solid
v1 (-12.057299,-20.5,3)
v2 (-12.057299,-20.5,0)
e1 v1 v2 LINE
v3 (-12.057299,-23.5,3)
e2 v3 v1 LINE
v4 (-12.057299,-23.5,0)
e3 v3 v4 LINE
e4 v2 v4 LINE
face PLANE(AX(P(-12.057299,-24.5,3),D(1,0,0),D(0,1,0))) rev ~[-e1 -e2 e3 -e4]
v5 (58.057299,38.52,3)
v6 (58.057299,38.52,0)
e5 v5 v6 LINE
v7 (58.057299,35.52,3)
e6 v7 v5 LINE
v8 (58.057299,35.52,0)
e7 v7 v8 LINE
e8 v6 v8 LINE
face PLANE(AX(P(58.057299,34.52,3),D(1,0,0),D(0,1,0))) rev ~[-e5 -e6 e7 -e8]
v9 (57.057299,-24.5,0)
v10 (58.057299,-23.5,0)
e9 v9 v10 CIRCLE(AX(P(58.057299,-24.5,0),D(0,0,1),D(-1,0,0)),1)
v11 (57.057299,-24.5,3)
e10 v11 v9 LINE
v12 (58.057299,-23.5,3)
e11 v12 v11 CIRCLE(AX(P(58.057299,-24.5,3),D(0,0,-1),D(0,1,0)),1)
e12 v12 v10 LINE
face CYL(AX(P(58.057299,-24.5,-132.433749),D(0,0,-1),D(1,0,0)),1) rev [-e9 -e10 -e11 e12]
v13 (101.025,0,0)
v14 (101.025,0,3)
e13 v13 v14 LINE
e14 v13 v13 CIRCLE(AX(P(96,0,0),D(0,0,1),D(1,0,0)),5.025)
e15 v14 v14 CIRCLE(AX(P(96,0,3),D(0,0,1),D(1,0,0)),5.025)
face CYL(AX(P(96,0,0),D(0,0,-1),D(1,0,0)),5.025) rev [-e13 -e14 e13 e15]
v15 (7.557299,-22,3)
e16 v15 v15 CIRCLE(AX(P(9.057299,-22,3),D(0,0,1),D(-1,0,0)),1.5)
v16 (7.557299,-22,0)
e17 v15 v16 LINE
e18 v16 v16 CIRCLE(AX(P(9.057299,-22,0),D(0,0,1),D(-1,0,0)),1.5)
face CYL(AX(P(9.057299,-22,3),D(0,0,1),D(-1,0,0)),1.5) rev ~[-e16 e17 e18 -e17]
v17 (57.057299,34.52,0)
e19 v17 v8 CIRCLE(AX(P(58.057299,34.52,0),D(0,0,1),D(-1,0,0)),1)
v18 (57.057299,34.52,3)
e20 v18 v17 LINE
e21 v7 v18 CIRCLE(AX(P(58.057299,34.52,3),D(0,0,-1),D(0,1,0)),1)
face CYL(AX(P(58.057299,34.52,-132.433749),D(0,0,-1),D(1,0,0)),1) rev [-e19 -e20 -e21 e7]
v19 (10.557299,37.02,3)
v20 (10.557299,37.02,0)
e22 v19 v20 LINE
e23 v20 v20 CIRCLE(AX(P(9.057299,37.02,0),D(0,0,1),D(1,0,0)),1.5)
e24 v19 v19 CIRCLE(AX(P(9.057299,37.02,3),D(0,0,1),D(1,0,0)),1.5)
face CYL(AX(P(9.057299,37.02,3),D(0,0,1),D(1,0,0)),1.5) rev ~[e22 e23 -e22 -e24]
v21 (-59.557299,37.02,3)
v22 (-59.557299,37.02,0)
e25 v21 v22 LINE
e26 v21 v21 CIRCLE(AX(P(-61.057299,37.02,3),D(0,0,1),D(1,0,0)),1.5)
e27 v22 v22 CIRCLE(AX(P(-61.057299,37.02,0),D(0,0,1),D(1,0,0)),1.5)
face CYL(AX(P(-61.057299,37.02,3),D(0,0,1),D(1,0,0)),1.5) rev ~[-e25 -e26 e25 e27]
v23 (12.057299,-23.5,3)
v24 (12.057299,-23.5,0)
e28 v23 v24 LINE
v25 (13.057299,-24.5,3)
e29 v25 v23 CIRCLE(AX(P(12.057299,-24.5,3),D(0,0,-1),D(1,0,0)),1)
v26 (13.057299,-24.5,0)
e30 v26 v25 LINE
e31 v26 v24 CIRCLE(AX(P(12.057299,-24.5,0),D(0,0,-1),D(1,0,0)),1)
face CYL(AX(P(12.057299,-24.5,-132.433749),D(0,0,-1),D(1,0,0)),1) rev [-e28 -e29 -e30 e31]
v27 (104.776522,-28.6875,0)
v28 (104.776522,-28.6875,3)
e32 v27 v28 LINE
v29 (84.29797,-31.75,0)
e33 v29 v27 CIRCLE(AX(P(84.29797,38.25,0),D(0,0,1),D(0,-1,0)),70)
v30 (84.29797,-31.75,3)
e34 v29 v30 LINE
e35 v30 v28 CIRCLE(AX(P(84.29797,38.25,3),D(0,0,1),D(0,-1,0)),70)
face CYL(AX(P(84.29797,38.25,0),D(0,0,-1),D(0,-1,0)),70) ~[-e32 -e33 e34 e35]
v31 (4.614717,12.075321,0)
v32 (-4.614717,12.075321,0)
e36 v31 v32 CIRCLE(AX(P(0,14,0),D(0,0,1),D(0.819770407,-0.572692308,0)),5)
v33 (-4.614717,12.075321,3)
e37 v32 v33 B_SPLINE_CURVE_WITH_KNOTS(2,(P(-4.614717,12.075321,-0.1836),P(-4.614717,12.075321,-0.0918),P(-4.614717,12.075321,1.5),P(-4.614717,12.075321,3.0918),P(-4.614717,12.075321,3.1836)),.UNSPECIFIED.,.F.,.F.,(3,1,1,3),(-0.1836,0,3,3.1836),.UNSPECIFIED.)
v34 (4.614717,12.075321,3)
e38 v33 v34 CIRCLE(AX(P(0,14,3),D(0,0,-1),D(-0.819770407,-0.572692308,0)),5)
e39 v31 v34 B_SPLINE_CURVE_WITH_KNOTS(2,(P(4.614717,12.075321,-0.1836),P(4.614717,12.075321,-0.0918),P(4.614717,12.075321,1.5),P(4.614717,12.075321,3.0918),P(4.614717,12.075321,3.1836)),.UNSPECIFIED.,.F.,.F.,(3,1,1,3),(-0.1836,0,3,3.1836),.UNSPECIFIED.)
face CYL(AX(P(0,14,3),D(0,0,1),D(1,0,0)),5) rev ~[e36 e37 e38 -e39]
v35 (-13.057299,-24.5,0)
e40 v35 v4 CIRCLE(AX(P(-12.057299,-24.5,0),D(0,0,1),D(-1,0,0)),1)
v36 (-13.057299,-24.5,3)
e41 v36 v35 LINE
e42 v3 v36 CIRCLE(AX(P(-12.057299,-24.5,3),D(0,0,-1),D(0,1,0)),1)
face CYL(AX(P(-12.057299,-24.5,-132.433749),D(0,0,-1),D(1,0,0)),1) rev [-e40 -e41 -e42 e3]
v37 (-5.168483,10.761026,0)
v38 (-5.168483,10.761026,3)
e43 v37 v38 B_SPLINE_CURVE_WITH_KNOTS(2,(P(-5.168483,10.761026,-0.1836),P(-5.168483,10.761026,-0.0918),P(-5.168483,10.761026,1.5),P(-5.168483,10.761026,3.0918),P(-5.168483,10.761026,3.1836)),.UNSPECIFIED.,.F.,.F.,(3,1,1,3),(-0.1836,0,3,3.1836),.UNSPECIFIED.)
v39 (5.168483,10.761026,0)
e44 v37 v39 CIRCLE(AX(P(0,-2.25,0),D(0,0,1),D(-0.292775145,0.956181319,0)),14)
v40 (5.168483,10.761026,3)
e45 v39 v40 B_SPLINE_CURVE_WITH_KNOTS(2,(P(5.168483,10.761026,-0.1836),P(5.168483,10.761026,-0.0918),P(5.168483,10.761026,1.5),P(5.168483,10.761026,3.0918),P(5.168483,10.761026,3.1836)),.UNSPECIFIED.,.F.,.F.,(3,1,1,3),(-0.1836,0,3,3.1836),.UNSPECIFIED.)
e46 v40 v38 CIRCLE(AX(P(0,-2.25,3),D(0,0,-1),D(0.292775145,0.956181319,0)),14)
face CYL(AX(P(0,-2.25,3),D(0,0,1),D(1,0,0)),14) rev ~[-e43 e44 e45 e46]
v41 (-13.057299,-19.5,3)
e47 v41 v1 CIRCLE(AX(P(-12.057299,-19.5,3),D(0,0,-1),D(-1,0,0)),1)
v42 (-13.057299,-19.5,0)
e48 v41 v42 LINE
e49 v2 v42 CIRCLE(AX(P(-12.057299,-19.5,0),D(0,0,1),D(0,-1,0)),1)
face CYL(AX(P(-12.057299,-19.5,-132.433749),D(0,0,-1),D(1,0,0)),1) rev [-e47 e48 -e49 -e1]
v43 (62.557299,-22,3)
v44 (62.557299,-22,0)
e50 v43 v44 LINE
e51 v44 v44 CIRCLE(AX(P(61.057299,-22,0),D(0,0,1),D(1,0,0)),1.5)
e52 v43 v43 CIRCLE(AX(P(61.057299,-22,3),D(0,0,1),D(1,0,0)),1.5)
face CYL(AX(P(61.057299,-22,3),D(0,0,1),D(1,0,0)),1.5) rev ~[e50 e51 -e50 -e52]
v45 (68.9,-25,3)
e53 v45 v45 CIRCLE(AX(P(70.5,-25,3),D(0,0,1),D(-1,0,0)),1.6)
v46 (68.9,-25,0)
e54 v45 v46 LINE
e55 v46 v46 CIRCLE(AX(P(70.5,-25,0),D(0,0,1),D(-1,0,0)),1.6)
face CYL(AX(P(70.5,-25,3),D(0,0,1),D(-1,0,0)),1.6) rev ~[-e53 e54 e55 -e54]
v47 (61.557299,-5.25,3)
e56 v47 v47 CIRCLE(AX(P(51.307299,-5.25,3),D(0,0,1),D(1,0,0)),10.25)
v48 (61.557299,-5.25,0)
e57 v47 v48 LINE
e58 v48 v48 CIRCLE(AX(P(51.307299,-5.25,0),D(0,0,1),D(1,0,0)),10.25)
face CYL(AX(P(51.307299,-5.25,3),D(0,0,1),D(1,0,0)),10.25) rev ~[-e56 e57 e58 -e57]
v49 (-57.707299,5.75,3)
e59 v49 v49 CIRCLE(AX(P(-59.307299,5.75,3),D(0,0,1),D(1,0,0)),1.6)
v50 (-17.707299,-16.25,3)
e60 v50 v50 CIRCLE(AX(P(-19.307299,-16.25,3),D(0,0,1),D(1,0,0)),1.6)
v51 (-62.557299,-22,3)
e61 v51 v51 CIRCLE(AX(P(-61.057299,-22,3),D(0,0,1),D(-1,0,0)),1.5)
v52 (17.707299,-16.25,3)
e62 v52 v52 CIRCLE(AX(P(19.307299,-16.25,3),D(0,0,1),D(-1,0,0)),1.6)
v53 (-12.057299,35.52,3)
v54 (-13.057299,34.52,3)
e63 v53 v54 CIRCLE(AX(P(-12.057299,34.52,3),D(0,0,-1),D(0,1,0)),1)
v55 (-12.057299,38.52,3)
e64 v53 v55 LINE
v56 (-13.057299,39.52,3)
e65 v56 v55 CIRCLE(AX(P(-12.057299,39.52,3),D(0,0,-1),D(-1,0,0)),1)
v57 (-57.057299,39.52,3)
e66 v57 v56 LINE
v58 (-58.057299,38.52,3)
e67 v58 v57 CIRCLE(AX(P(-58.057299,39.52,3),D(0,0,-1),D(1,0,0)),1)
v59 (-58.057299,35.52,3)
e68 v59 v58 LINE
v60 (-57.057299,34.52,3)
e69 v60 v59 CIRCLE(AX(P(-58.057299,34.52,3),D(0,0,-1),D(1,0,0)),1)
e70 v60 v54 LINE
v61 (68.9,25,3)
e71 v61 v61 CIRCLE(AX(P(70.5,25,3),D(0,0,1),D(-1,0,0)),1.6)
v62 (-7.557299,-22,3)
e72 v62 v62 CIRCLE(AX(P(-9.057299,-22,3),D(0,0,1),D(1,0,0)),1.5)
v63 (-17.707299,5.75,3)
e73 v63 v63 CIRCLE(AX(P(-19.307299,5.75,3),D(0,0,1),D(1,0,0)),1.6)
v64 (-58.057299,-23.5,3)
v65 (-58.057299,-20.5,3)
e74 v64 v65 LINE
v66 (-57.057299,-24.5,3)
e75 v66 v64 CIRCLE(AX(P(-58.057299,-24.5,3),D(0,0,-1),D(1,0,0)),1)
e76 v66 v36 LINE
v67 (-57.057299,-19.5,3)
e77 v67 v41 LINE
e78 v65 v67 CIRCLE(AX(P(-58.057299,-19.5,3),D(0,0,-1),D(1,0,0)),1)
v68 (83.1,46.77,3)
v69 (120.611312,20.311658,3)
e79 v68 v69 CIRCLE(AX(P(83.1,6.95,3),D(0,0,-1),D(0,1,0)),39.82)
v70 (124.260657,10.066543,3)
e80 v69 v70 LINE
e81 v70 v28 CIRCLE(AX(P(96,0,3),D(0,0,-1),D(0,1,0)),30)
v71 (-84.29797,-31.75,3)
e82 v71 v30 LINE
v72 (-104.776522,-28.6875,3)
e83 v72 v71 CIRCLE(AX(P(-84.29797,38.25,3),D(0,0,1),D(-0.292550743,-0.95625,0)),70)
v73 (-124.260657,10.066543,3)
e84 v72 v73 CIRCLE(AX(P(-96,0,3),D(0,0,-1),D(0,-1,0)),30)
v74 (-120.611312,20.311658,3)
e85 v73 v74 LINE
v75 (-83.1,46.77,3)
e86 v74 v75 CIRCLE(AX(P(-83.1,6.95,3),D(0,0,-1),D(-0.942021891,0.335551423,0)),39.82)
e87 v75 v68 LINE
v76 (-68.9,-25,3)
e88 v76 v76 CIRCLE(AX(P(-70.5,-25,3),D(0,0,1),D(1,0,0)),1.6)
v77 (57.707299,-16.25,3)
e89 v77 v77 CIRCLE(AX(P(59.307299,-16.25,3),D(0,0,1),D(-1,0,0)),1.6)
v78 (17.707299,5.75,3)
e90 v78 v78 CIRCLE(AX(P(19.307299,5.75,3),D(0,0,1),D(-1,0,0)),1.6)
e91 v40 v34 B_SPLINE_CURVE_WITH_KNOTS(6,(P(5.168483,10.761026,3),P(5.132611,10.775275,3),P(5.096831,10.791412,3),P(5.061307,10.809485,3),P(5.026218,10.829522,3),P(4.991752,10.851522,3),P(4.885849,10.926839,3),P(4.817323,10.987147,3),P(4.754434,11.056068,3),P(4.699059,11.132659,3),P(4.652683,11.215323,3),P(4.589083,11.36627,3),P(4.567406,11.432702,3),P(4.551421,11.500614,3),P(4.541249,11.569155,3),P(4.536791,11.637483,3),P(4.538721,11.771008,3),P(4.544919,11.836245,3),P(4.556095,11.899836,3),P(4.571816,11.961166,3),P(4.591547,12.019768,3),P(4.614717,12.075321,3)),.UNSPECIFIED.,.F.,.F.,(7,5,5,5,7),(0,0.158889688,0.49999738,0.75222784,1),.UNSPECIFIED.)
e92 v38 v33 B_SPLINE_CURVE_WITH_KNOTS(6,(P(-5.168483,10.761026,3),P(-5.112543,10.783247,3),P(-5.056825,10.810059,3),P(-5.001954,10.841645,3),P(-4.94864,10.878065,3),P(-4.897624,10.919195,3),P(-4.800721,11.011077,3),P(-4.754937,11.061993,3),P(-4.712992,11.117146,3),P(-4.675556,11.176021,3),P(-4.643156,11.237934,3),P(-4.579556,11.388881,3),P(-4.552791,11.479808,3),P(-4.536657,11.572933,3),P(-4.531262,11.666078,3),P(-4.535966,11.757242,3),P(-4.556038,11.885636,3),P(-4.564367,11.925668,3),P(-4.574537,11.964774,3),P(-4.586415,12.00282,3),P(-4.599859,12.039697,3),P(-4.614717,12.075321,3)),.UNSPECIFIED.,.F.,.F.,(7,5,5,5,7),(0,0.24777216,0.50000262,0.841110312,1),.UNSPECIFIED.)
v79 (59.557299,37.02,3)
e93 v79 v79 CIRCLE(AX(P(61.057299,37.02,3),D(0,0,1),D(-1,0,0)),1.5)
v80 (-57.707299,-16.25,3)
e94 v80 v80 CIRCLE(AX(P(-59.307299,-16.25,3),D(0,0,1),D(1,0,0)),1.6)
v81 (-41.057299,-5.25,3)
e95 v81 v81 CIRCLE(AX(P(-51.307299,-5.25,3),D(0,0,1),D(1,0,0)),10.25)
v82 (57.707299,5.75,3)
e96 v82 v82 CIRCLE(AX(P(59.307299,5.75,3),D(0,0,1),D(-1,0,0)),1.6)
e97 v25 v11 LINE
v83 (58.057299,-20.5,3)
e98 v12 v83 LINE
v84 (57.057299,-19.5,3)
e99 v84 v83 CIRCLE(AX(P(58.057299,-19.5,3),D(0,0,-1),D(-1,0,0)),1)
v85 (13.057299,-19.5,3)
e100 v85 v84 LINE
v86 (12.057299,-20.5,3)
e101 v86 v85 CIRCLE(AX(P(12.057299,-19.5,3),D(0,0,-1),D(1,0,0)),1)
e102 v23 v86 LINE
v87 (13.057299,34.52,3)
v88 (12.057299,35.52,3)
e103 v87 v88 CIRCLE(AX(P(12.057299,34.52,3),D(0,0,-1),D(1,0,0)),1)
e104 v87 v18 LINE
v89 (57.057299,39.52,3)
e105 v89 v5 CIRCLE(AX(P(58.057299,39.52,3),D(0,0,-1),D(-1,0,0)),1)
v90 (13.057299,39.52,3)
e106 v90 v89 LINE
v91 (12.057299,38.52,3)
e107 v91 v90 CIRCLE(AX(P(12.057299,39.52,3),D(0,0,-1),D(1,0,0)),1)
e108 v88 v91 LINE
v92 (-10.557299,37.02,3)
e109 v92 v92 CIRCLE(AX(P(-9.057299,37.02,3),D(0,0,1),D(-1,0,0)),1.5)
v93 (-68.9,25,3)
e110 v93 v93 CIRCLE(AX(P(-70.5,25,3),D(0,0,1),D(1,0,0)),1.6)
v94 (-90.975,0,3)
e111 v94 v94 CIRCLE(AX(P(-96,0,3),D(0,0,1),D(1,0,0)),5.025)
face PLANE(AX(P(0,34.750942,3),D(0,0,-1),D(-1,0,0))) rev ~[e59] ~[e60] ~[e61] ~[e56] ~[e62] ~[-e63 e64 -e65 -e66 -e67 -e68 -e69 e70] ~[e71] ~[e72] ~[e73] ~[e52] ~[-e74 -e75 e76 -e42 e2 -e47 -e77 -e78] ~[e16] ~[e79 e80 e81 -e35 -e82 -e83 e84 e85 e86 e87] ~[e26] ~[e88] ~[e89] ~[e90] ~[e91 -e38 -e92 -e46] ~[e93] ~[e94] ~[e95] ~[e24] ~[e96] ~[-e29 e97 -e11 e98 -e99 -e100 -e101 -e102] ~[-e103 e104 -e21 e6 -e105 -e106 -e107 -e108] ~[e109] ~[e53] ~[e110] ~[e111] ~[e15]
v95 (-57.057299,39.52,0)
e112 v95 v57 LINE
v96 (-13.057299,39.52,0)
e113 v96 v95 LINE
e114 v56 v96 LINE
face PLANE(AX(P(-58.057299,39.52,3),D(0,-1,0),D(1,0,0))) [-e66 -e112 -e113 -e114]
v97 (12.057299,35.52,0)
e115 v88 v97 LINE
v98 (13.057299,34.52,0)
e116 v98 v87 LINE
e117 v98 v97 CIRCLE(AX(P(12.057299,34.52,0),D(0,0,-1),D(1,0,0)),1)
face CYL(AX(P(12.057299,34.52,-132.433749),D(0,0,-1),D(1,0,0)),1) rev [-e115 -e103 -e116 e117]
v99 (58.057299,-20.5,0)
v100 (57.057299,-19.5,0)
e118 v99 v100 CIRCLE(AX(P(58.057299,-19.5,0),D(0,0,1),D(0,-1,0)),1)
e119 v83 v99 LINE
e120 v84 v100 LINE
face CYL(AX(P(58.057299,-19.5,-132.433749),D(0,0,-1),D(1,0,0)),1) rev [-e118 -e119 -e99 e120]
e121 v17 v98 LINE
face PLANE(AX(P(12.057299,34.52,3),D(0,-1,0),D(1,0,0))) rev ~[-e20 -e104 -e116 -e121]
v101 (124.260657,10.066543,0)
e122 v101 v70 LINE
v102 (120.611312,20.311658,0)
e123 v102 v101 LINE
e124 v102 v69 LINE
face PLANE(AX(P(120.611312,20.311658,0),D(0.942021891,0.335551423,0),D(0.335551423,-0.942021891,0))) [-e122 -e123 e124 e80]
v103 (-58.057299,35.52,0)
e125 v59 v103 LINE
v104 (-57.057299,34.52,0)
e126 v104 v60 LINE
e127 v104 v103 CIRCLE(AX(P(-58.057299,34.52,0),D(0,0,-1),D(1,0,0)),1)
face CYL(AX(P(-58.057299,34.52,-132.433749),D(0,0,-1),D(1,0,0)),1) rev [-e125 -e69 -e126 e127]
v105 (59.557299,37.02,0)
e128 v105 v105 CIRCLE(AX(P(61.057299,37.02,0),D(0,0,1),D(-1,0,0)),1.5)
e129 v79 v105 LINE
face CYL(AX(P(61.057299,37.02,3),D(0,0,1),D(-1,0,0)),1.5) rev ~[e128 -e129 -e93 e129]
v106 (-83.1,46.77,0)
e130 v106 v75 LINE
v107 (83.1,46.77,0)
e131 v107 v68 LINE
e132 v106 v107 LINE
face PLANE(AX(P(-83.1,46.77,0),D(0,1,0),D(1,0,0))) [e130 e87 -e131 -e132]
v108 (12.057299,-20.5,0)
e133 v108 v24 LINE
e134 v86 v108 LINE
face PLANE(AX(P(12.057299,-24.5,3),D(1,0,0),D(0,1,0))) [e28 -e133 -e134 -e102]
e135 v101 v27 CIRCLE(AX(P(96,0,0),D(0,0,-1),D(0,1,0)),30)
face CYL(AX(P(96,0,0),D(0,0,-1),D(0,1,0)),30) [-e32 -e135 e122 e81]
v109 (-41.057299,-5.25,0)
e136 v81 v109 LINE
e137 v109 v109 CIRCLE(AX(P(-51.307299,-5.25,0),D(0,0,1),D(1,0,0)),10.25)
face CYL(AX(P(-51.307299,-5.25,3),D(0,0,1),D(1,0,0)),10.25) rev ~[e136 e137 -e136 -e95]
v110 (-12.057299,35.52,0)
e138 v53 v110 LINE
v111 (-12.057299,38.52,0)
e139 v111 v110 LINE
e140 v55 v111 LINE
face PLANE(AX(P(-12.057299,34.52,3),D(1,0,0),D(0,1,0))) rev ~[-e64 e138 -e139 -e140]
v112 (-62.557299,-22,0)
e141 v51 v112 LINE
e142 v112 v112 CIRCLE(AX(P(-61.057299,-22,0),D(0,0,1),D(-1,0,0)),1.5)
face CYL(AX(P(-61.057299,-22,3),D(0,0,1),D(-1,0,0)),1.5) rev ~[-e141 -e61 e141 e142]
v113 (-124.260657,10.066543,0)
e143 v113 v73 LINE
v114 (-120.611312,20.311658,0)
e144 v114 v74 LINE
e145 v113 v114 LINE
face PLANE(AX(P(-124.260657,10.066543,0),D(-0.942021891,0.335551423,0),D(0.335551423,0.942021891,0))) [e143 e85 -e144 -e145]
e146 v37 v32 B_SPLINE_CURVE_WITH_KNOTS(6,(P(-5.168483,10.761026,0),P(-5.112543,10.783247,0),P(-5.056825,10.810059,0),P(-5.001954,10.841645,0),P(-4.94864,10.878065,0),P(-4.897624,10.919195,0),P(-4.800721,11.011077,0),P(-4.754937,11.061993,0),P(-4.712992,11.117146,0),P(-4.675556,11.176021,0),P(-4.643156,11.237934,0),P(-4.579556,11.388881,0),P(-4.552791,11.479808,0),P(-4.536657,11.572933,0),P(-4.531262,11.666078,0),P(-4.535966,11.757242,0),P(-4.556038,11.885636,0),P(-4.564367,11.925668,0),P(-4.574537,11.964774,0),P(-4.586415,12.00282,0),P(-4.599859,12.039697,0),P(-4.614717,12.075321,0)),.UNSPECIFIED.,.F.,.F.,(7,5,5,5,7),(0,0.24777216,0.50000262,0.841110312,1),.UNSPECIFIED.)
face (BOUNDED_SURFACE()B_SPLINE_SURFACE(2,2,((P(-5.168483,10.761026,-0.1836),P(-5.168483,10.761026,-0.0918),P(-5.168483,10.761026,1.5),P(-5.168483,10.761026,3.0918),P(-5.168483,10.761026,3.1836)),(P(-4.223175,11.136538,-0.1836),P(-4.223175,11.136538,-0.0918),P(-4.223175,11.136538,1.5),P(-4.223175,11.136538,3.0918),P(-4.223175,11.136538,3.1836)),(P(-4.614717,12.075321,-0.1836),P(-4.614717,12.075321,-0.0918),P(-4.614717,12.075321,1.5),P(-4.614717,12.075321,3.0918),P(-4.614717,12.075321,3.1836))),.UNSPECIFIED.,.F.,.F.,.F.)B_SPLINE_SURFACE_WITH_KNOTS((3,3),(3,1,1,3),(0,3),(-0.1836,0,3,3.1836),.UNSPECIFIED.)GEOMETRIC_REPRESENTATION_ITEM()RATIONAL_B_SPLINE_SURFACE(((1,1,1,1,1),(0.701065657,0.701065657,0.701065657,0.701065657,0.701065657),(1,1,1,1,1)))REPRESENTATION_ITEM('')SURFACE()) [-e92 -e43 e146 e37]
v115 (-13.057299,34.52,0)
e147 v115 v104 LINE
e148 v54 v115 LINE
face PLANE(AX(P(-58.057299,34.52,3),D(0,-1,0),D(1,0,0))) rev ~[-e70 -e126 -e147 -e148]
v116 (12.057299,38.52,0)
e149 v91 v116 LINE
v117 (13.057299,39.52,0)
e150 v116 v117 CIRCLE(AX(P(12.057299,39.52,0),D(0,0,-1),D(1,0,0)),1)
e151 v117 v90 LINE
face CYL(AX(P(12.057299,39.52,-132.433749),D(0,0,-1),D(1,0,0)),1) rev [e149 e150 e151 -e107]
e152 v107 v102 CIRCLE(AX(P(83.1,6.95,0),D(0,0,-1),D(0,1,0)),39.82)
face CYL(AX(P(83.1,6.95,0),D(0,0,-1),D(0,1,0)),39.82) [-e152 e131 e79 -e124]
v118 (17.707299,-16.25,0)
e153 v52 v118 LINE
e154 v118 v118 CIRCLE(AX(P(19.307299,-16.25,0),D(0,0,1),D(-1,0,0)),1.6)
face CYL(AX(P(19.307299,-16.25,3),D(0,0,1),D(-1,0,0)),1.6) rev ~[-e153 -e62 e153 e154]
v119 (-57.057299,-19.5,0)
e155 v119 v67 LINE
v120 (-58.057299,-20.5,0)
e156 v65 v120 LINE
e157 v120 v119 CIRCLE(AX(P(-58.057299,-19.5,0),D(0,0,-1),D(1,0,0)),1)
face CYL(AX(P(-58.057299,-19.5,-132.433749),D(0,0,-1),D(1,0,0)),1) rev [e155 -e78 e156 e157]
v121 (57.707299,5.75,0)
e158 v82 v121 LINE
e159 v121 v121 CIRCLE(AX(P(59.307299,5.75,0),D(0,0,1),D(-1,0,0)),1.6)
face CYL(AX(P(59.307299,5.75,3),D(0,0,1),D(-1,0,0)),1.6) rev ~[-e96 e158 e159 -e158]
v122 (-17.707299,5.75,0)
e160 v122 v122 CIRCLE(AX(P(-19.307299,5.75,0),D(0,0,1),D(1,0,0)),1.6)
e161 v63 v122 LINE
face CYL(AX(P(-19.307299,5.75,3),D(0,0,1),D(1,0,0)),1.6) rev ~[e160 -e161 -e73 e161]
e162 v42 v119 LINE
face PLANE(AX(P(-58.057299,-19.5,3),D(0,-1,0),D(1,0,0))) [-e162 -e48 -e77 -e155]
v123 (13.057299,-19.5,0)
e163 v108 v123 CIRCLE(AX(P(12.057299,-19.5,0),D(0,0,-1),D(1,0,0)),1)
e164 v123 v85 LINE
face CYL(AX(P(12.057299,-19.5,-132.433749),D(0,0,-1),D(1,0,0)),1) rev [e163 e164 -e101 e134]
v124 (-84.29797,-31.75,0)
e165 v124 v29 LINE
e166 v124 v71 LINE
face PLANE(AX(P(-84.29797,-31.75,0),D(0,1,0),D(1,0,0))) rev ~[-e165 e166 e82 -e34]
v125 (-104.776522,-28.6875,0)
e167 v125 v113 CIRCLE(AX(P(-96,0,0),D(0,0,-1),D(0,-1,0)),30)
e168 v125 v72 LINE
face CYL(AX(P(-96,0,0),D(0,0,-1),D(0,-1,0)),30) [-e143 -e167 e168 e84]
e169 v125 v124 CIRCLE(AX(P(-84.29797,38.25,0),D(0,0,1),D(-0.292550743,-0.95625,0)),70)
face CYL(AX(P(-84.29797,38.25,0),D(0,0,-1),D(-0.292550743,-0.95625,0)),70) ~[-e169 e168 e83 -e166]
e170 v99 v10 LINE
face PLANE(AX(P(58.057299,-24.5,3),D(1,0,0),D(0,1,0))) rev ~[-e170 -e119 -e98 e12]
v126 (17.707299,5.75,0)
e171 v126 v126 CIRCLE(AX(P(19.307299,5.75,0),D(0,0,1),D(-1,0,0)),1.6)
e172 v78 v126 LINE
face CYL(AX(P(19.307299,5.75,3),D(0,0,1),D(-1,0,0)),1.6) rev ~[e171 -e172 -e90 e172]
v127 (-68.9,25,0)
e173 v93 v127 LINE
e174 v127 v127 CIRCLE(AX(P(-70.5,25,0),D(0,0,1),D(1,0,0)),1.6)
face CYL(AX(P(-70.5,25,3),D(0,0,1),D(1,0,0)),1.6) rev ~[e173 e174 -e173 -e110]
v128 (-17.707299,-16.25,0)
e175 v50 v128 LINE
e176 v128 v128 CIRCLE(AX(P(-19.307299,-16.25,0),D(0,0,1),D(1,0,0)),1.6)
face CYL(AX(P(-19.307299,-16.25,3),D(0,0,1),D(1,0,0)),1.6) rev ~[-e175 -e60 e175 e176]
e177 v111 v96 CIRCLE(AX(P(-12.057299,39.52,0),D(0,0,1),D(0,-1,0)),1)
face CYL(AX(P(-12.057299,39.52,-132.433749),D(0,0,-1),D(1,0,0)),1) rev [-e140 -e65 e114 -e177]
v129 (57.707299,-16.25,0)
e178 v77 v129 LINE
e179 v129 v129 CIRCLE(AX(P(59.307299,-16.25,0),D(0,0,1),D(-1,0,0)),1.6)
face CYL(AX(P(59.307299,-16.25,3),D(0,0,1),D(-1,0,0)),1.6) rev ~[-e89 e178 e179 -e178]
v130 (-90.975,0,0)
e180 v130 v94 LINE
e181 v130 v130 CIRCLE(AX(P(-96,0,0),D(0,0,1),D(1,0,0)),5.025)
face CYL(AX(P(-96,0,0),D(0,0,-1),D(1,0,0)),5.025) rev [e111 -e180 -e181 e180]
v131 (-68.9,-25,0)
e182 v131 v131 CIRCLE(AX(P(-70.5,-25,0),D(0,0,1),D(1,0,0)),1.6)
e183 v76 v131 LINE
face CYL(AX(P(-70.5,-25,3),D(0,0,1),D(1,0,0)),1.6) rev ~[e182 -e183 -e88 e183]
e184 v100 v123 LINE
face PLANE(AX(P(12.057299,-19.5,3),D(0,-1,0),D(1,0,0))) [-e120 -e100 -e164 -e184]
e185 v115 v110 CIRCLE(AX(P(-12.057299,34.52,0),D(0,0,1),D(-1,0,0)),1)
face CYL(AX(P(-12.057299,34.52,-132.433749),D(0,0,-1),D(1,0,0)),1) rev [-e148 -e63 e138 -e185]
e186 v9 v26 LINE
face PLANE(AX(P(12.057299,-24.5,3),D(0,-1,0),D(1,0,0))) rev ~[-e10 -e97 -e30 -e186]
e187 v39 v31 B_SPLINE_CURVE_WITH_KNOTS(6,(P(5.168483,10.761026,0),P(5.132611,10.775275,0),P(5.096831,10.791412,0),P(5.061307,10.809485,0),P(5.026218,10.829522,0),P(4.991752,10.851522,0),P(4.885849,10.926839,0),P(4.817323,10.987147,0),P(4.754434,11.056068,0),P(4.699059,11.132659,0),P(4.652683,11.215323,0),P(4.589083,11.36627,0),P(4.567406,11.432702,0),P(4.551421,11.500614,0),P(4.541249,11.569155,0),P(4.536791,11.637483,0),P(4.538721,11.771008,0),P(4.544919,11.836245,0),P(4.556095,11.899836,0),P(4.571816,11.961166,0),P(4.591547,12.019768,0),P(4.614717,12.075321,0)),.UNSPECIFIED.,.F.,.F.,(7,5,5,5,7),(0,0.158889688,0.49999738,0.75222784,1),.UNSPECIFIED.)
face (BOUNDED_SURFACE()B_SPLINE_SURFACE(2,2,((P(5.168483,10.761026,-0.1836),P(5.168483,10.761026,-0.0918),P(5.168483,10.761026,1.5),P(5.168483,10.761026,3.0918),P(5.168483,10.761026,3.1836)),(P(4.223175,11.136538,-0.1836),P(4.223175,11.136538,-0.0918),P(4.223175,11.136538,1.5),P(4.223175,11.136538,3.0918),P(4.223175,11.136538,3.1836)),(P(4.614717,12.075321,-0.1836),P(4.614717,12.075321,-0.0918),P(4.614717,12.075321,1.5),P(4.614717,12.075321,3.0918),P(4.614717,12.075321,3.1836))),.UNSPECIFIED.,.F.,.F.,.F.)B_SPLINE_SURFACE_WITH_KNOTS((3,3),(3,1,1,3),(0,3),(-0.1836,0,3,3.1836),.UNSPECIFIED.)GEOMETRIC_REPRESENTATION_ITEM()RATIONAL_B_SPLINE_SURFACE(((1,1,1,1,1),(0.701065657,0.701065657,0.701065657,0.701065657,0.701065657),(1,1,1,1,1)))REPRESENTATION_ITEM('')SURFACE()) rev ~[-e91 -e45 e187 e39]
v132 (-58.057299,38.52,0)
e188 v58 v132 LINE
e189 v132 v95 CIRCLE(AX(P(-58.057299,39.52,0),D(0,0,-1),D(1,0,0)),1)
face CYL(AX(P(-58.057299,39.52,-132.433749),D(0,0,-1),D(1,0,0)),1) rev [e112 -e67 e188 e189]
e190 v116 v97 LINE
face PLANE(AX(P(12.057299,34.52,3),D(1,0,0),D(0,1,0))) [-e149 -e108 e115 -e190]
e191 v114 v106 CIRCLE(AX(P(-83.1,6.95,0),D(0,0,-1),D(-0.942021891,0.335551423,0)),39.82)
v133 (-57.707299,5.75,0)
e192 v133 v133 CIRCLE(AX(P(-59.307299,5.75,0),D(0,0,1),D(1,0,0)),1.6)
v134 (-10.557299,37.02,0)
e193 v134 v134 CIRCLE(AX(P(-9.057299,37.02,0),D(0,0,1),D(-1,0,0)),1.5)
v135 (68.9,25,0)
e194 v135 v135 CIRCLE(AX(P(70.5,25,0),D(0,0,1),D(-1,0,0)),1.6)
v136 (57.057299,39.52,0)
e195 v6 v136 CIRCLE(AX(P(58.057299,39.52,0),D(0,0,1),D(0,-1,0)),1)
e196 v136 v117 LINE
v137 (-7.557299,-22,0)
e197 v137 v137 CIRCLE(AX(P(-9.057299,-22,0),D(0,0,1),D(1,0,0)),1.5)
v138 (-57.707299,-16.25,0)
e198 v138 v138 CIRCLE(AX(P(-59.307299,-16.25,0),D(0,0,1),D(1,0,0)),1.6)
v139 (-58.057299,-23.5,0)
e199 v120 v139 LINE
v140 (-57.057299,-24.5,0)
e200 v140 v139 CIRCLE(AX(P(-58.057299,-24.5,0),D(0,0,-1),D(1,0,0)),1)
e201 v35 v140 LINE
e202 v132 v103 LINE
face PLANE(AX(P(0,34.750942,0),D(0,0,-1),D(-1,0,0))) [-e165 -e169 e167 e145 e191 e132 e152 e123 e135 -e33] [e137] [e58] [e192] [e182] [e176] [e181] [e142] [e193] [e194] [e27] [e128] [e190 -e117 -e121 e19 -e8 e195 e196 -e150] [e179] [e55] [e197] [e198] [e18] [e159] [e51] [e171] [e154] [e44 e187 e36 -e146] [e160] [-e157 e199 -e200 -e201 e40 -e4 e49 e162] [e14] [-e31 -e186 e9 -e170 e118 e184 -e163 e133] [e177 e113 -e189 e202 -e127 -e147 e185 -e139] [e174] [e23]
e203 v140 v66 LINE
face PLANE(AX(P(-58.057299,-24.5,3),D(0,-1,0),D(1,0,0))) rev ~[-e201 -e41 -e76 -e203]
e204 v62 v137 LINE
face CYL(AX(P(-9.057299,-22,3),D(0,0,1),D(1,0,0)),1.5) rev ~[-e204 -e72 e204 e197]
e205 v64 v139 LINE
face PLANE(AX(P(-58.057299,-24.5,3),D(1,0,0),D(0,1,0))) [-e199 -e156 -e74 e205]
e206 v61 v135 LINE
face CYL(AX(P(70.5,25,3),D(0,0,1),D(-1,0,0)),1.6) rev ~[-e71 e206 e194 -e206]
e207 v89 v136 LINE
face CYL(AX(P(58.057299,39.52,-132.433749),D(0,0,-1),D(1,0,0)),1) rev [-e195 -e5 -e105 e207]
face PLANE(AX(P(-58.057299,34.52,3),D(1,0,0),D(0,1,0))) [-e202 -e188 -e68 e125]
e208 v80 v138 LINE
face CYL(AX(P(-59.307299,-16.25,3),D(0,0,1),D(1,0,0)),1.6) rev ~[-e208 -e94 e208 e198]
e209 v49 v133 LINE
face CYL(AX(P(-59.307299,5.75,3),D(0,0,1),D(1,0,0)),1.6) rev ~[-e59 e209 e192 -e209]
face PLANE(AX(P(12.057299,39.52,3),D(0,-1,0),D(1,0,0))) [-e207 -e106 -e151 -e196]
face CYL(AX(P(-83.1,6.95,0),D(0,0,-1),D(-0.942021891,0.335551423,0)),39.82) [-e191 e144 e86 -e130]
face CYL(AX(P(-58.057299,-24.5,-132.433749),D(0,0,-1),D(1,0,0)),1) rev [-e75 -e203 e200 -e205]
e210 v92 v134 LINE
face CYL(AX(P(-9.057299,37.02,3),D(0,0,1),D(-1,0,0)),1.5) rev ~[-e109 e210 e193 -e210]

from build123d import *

# Parameters (mm, degrees)
SKETCH_1_R               = 5.025
EXTRUDE_1_DEPTH          = 3
SKETCH_2_R               = 1.6
SKETCH_2_R_2             = 10.25
SKETCH_2_R_3             = 14
CUT_EXTRUDE_1_DEPTH      = 130.55693729
EXTRUDE_START            = -3
EXTRUDE_2_DEPTH          = 3
SKETCH_3_R               = 1.5
SKETCH_3_W               = 46
SKETCH_3_H               = 5
CUT_EXTRUDE_2_DEPTH      = 135.433749111
CUT_EXTRUDE_3_DEPTH      = 135.433749111
CUT_EXTRUDE_3_DEPTH_BACK = 135.433749111
SKETCH_5_R               = 1
SKETCH_6_R               = 5
CUT_EXTRUDE_5_DEPTH      = 135.433749111
FILLET_1_R               = 1


with BuildPart() as part:
    # ｽｹｯﾁ1 → ﾎﾞｽ - 押し出し1 (new body)
    with BuildSketch(Plane.XY):
        with BuildLine():
            Line((96, -30), (-96, -30))
            ThreePointArc((-96, -30), (-126, 0), (-96, 30))
            Line((-96, 30), (96, 30))
            ThreePointArc((96, 30), (126, 0), (96, -30))
        make_face()
        with Locations((-96, 0)):
            Circle(SKETCH_1_R, mode=Mode.SUBTRACT)
        with Locations((96, 0)):
            Circle(SKETCH_1_R, mode=Mode.SUBTRACT)
    extrude(amount=EXTRUDE_1_DEPTH)

    # ｽｹｯﾁ2 → ｶｯﾄ - 押し出し1 (cut, through all)
    with BuildSketch(Plane.XY.offset(3)):
        with Locations((-59.307299254, 5.75)):
            Circle(SKETCH_2_R)
        with Locations((-59.307299254, -16.25)):
            Circle(SKETCH_2_R)
        with Locations((-19.307299254, -16.25)):
            Circle(SKETCH_2_R)
        with Locations((-19.307299254, 5.75)):
            Circle(SKETCH_2_R)
        with Locations(Location((19.307299254, 5.75, 0), (0, 0, 180))):
            Circle(SKETCH_2_R)
        with Locations(Location((19.307299254, -16.25, 0), (0, 0, 180))):
            Circle(SKETCH_2_R)
        with Locations(Location((59.307299254, 5.75, 0), (0, 0, 180))):
            Circle(SKETCH_2_R)
        with Locations(Location((59.307299254, -16.25, 0), (0, 0, 180))):
            Circle(SKETCH_2_R)
        with Locations((51.307299254, -5.25)):
            Circle(SKETCH_2_R_2)
        with Locations((-51.307299254, -5.25)):
            Circle(SKETCH_2_R_2)
        with Locations((-70.5, 25)):
            Circle(SKETCH_2_R)
        with Locations((0, -2.25)):
            Circle(SKETCH_2_R_3)
        with Locations((-70.5, -25)):
            Circle(SKETCH_2_R)
        with Locations(Location((70.5, -25, 0), (0, 0, 180))):
            Circle(SKETCH_2_R)
        with Locations(Location((70.5, 25, 0), (0, 0, 180))):
            Circle(SKETCH_2_R)
    extrude(amount=-CUT_EXTRUDE_1_DEPTH, mode=Mode.SUBTRACT)

    # ｽｹｯﾁ4 → ﾎﾞｽ - 押し出し2 (add)
    with BuildSketch(Plane.XY.offset(3).offset(EXTRUDE_START)):
        with BuildLine():
            Line((-124.26065672, 10.06654269), (-120.611311687, 20.311657664))
            ThreePointArc((-120.611311687, 20.311657664), (-106.051810297, 39.489926307), (-83.1, 46.77))
            Line((-83.1, 46.77), (83.1, 46.77))
            ThreePointArc((83.1, 46.77), (106.051810297, 39.489926307), (120.611311687, 20.311657664))
            Line((120.611311687, 20.311657664), (124.26065672, 10.06654269))
            ThreePointArc((124.26065672, 10.06654269), (113.291670239, 24.515263416), (96, 30))
            Line((96, 30), (-96, 30))
            ThreePointArc((-96, 30), (-113.291670239, 24.515263416), (-124.26065672, 10.06654269))
        make_face()
        with BuildLine():
            Line((-84.297970262, -31.75), (84.297970262, -31.75))
            ThreePointArc((84.297970262, -31.75), (94.651109882, -30.980141557), (104.776522304, -28.6875))
            ThreePointArc((104.776522304, -28.6875), (100.437059837, -29.670060667), (96, -30))
            Line((96, -30), (-96, -30))
            ThreePointArc((-96, -30), (-100.437059837, -29.670060667), (-104.776522304, -28.6875))
            ThreePointArc((-104.776522304, -28.6875), (-94.651109882, -30.980141557), (-84.297970262, -31.75))
        make_face()
    extrude(amount=EXTRUDE_2_DEPTH)

    # ｽｹｯﾁ3 → ｶｯﾄ - 押し出し2 (cut, through all)
    with BuildSketch(Plane.XY.offset(3)):
        with Locations((-61.057299254, 37.02)):
            Circle(SKETCH_3_R)
        with Locations(Location((-9.057299254, 37.02, 0), (0, 0, 180))):
            Circle(SKETCH_3_R)
        with Locations((-9.057299254, -22)):
            Circle(SKETCH_3_R)
        with Locations(Location((-61.057299254, -22, 0), (0, 0, 180))):
            Circle(SKETCH_3_R)
        with Locations((61.057299254, -22)):
            Circle(SKETCH_3_R)
        with Locations(Location((9.057299254, -22, 0), (0, 0, 180))):
            Circle(SKETCH_3_R)
        with Locations((9.057299254, 37.02)):
            Circle(SKETCH_3_R)
        with Locations(Location((61.057299254, 37.02, 0), (0, 0, 180))):
            Circle(SKETCH_3_R)
        with Locations((-35.057299254, 37.02)):
            Rectangle(SKETCH_3_W, SKETCH_3_H)
        with Locations((-35.057299254, -22)):
            Rectangle(SKETCH_3_W, SKETCH_3_H)
        with Locations((35.057299254, -22)):
            Rectangle(SKETCH_3_W, SKETCH_3_H)
        with Locations((35.057299254, 37.02)):
            Rectangle(SKETCH_3_W, SKETCH_3_H)
    extrude(amount=-CUT_EXTRUDE_2_DEPTH, mode=Mode.SUBTRACT)

    # ｽｹｯﾁ5 → ｶｯﾄ - 押し出し3 (cut, two sides: drawn at the far end of the back side and taken through both)
    with BuildSketch(Plane.XY.offset(3).offset(-CUT_EXTRUDE_3_DEPTH_BACK)):
        with Locations((-58.057299254, 39.52)):
            Circle(SKETCH_5_R)
        with Locations((-58.057299254, 34.52)):
            Circle(SKETCH_5_R)
        with Locations((-12.057299254, 39.52)):
            Circle(SKETCH_5_R)
        with Locations((-12.057299254, 34.52)):
            Circle(SKETCH_5_R)
        with Locations((12.057299254, 34.52)):
            Circle(SKETCH_5_R)
        with Locations((12.057299254, 39.52)):
            Circle(SKETCH_5_R)
        with Locations((58.057299254, 34.52)):
            Circle(SKETCH_5_R)
        with Locations((58.057299254, 39.52)):
            Circle(SKETCH_5_R)
        with Locations((58.057299254, -24.5)):
            Circle(SKETCH_5_R)
        with Locations((58.057299254, -19.5)):
            Circle(SKETCH_5_R)
        with Locations((12.057299254, -24.5)):
            Circle(SKETCH_5_R)
        with Locations((12.057299254, -19.5)):
            Circle(SKETCH_5_R)
        with Locations((-12.057299254, -19.5)):
            Circle(SKETCH_5_R)
        with Locations((-12.057299254, -24.5)):
            Circle(SKETCH_5_R)
        with Locations((-58.057299254, -19.5)):
            Circle(SKETCH_5_R)
        with Locations((-58.057299254, -24.5)):
            Circle(SKETCH_5_R)
    extrude(amount=CUT_EXTRUDE_3_DEPTH + CUT_EXTRUDE_3_DEPTH_BACK, mode=Mode.SUBTRACT)

    # ｽｹｯﾁ6 → ｶｯﾄ - 押し出し5 (cut, through all)
    with BuildSketch(Plane.XY.offset(3)):
        with Locations((0, 14)):
            Circle(SKETCH_6_R)
    extrude(amount=-CUT_EXTRUDE_5_DEPTH, mode=Mode.SUBTRACT)

    # ﾌｨﾚｯﾄ1
    fillet_1_edges = [part.edges().sort_by_distance(p)[0] for p in [
        (4.098852037, 11.136538462, 1.5),
        (-4.098852037, 11.136538462, 1.5),
    ]]
    fillet(fillet_1_edges, radius=FILLET_1_R)


solid = part.part
